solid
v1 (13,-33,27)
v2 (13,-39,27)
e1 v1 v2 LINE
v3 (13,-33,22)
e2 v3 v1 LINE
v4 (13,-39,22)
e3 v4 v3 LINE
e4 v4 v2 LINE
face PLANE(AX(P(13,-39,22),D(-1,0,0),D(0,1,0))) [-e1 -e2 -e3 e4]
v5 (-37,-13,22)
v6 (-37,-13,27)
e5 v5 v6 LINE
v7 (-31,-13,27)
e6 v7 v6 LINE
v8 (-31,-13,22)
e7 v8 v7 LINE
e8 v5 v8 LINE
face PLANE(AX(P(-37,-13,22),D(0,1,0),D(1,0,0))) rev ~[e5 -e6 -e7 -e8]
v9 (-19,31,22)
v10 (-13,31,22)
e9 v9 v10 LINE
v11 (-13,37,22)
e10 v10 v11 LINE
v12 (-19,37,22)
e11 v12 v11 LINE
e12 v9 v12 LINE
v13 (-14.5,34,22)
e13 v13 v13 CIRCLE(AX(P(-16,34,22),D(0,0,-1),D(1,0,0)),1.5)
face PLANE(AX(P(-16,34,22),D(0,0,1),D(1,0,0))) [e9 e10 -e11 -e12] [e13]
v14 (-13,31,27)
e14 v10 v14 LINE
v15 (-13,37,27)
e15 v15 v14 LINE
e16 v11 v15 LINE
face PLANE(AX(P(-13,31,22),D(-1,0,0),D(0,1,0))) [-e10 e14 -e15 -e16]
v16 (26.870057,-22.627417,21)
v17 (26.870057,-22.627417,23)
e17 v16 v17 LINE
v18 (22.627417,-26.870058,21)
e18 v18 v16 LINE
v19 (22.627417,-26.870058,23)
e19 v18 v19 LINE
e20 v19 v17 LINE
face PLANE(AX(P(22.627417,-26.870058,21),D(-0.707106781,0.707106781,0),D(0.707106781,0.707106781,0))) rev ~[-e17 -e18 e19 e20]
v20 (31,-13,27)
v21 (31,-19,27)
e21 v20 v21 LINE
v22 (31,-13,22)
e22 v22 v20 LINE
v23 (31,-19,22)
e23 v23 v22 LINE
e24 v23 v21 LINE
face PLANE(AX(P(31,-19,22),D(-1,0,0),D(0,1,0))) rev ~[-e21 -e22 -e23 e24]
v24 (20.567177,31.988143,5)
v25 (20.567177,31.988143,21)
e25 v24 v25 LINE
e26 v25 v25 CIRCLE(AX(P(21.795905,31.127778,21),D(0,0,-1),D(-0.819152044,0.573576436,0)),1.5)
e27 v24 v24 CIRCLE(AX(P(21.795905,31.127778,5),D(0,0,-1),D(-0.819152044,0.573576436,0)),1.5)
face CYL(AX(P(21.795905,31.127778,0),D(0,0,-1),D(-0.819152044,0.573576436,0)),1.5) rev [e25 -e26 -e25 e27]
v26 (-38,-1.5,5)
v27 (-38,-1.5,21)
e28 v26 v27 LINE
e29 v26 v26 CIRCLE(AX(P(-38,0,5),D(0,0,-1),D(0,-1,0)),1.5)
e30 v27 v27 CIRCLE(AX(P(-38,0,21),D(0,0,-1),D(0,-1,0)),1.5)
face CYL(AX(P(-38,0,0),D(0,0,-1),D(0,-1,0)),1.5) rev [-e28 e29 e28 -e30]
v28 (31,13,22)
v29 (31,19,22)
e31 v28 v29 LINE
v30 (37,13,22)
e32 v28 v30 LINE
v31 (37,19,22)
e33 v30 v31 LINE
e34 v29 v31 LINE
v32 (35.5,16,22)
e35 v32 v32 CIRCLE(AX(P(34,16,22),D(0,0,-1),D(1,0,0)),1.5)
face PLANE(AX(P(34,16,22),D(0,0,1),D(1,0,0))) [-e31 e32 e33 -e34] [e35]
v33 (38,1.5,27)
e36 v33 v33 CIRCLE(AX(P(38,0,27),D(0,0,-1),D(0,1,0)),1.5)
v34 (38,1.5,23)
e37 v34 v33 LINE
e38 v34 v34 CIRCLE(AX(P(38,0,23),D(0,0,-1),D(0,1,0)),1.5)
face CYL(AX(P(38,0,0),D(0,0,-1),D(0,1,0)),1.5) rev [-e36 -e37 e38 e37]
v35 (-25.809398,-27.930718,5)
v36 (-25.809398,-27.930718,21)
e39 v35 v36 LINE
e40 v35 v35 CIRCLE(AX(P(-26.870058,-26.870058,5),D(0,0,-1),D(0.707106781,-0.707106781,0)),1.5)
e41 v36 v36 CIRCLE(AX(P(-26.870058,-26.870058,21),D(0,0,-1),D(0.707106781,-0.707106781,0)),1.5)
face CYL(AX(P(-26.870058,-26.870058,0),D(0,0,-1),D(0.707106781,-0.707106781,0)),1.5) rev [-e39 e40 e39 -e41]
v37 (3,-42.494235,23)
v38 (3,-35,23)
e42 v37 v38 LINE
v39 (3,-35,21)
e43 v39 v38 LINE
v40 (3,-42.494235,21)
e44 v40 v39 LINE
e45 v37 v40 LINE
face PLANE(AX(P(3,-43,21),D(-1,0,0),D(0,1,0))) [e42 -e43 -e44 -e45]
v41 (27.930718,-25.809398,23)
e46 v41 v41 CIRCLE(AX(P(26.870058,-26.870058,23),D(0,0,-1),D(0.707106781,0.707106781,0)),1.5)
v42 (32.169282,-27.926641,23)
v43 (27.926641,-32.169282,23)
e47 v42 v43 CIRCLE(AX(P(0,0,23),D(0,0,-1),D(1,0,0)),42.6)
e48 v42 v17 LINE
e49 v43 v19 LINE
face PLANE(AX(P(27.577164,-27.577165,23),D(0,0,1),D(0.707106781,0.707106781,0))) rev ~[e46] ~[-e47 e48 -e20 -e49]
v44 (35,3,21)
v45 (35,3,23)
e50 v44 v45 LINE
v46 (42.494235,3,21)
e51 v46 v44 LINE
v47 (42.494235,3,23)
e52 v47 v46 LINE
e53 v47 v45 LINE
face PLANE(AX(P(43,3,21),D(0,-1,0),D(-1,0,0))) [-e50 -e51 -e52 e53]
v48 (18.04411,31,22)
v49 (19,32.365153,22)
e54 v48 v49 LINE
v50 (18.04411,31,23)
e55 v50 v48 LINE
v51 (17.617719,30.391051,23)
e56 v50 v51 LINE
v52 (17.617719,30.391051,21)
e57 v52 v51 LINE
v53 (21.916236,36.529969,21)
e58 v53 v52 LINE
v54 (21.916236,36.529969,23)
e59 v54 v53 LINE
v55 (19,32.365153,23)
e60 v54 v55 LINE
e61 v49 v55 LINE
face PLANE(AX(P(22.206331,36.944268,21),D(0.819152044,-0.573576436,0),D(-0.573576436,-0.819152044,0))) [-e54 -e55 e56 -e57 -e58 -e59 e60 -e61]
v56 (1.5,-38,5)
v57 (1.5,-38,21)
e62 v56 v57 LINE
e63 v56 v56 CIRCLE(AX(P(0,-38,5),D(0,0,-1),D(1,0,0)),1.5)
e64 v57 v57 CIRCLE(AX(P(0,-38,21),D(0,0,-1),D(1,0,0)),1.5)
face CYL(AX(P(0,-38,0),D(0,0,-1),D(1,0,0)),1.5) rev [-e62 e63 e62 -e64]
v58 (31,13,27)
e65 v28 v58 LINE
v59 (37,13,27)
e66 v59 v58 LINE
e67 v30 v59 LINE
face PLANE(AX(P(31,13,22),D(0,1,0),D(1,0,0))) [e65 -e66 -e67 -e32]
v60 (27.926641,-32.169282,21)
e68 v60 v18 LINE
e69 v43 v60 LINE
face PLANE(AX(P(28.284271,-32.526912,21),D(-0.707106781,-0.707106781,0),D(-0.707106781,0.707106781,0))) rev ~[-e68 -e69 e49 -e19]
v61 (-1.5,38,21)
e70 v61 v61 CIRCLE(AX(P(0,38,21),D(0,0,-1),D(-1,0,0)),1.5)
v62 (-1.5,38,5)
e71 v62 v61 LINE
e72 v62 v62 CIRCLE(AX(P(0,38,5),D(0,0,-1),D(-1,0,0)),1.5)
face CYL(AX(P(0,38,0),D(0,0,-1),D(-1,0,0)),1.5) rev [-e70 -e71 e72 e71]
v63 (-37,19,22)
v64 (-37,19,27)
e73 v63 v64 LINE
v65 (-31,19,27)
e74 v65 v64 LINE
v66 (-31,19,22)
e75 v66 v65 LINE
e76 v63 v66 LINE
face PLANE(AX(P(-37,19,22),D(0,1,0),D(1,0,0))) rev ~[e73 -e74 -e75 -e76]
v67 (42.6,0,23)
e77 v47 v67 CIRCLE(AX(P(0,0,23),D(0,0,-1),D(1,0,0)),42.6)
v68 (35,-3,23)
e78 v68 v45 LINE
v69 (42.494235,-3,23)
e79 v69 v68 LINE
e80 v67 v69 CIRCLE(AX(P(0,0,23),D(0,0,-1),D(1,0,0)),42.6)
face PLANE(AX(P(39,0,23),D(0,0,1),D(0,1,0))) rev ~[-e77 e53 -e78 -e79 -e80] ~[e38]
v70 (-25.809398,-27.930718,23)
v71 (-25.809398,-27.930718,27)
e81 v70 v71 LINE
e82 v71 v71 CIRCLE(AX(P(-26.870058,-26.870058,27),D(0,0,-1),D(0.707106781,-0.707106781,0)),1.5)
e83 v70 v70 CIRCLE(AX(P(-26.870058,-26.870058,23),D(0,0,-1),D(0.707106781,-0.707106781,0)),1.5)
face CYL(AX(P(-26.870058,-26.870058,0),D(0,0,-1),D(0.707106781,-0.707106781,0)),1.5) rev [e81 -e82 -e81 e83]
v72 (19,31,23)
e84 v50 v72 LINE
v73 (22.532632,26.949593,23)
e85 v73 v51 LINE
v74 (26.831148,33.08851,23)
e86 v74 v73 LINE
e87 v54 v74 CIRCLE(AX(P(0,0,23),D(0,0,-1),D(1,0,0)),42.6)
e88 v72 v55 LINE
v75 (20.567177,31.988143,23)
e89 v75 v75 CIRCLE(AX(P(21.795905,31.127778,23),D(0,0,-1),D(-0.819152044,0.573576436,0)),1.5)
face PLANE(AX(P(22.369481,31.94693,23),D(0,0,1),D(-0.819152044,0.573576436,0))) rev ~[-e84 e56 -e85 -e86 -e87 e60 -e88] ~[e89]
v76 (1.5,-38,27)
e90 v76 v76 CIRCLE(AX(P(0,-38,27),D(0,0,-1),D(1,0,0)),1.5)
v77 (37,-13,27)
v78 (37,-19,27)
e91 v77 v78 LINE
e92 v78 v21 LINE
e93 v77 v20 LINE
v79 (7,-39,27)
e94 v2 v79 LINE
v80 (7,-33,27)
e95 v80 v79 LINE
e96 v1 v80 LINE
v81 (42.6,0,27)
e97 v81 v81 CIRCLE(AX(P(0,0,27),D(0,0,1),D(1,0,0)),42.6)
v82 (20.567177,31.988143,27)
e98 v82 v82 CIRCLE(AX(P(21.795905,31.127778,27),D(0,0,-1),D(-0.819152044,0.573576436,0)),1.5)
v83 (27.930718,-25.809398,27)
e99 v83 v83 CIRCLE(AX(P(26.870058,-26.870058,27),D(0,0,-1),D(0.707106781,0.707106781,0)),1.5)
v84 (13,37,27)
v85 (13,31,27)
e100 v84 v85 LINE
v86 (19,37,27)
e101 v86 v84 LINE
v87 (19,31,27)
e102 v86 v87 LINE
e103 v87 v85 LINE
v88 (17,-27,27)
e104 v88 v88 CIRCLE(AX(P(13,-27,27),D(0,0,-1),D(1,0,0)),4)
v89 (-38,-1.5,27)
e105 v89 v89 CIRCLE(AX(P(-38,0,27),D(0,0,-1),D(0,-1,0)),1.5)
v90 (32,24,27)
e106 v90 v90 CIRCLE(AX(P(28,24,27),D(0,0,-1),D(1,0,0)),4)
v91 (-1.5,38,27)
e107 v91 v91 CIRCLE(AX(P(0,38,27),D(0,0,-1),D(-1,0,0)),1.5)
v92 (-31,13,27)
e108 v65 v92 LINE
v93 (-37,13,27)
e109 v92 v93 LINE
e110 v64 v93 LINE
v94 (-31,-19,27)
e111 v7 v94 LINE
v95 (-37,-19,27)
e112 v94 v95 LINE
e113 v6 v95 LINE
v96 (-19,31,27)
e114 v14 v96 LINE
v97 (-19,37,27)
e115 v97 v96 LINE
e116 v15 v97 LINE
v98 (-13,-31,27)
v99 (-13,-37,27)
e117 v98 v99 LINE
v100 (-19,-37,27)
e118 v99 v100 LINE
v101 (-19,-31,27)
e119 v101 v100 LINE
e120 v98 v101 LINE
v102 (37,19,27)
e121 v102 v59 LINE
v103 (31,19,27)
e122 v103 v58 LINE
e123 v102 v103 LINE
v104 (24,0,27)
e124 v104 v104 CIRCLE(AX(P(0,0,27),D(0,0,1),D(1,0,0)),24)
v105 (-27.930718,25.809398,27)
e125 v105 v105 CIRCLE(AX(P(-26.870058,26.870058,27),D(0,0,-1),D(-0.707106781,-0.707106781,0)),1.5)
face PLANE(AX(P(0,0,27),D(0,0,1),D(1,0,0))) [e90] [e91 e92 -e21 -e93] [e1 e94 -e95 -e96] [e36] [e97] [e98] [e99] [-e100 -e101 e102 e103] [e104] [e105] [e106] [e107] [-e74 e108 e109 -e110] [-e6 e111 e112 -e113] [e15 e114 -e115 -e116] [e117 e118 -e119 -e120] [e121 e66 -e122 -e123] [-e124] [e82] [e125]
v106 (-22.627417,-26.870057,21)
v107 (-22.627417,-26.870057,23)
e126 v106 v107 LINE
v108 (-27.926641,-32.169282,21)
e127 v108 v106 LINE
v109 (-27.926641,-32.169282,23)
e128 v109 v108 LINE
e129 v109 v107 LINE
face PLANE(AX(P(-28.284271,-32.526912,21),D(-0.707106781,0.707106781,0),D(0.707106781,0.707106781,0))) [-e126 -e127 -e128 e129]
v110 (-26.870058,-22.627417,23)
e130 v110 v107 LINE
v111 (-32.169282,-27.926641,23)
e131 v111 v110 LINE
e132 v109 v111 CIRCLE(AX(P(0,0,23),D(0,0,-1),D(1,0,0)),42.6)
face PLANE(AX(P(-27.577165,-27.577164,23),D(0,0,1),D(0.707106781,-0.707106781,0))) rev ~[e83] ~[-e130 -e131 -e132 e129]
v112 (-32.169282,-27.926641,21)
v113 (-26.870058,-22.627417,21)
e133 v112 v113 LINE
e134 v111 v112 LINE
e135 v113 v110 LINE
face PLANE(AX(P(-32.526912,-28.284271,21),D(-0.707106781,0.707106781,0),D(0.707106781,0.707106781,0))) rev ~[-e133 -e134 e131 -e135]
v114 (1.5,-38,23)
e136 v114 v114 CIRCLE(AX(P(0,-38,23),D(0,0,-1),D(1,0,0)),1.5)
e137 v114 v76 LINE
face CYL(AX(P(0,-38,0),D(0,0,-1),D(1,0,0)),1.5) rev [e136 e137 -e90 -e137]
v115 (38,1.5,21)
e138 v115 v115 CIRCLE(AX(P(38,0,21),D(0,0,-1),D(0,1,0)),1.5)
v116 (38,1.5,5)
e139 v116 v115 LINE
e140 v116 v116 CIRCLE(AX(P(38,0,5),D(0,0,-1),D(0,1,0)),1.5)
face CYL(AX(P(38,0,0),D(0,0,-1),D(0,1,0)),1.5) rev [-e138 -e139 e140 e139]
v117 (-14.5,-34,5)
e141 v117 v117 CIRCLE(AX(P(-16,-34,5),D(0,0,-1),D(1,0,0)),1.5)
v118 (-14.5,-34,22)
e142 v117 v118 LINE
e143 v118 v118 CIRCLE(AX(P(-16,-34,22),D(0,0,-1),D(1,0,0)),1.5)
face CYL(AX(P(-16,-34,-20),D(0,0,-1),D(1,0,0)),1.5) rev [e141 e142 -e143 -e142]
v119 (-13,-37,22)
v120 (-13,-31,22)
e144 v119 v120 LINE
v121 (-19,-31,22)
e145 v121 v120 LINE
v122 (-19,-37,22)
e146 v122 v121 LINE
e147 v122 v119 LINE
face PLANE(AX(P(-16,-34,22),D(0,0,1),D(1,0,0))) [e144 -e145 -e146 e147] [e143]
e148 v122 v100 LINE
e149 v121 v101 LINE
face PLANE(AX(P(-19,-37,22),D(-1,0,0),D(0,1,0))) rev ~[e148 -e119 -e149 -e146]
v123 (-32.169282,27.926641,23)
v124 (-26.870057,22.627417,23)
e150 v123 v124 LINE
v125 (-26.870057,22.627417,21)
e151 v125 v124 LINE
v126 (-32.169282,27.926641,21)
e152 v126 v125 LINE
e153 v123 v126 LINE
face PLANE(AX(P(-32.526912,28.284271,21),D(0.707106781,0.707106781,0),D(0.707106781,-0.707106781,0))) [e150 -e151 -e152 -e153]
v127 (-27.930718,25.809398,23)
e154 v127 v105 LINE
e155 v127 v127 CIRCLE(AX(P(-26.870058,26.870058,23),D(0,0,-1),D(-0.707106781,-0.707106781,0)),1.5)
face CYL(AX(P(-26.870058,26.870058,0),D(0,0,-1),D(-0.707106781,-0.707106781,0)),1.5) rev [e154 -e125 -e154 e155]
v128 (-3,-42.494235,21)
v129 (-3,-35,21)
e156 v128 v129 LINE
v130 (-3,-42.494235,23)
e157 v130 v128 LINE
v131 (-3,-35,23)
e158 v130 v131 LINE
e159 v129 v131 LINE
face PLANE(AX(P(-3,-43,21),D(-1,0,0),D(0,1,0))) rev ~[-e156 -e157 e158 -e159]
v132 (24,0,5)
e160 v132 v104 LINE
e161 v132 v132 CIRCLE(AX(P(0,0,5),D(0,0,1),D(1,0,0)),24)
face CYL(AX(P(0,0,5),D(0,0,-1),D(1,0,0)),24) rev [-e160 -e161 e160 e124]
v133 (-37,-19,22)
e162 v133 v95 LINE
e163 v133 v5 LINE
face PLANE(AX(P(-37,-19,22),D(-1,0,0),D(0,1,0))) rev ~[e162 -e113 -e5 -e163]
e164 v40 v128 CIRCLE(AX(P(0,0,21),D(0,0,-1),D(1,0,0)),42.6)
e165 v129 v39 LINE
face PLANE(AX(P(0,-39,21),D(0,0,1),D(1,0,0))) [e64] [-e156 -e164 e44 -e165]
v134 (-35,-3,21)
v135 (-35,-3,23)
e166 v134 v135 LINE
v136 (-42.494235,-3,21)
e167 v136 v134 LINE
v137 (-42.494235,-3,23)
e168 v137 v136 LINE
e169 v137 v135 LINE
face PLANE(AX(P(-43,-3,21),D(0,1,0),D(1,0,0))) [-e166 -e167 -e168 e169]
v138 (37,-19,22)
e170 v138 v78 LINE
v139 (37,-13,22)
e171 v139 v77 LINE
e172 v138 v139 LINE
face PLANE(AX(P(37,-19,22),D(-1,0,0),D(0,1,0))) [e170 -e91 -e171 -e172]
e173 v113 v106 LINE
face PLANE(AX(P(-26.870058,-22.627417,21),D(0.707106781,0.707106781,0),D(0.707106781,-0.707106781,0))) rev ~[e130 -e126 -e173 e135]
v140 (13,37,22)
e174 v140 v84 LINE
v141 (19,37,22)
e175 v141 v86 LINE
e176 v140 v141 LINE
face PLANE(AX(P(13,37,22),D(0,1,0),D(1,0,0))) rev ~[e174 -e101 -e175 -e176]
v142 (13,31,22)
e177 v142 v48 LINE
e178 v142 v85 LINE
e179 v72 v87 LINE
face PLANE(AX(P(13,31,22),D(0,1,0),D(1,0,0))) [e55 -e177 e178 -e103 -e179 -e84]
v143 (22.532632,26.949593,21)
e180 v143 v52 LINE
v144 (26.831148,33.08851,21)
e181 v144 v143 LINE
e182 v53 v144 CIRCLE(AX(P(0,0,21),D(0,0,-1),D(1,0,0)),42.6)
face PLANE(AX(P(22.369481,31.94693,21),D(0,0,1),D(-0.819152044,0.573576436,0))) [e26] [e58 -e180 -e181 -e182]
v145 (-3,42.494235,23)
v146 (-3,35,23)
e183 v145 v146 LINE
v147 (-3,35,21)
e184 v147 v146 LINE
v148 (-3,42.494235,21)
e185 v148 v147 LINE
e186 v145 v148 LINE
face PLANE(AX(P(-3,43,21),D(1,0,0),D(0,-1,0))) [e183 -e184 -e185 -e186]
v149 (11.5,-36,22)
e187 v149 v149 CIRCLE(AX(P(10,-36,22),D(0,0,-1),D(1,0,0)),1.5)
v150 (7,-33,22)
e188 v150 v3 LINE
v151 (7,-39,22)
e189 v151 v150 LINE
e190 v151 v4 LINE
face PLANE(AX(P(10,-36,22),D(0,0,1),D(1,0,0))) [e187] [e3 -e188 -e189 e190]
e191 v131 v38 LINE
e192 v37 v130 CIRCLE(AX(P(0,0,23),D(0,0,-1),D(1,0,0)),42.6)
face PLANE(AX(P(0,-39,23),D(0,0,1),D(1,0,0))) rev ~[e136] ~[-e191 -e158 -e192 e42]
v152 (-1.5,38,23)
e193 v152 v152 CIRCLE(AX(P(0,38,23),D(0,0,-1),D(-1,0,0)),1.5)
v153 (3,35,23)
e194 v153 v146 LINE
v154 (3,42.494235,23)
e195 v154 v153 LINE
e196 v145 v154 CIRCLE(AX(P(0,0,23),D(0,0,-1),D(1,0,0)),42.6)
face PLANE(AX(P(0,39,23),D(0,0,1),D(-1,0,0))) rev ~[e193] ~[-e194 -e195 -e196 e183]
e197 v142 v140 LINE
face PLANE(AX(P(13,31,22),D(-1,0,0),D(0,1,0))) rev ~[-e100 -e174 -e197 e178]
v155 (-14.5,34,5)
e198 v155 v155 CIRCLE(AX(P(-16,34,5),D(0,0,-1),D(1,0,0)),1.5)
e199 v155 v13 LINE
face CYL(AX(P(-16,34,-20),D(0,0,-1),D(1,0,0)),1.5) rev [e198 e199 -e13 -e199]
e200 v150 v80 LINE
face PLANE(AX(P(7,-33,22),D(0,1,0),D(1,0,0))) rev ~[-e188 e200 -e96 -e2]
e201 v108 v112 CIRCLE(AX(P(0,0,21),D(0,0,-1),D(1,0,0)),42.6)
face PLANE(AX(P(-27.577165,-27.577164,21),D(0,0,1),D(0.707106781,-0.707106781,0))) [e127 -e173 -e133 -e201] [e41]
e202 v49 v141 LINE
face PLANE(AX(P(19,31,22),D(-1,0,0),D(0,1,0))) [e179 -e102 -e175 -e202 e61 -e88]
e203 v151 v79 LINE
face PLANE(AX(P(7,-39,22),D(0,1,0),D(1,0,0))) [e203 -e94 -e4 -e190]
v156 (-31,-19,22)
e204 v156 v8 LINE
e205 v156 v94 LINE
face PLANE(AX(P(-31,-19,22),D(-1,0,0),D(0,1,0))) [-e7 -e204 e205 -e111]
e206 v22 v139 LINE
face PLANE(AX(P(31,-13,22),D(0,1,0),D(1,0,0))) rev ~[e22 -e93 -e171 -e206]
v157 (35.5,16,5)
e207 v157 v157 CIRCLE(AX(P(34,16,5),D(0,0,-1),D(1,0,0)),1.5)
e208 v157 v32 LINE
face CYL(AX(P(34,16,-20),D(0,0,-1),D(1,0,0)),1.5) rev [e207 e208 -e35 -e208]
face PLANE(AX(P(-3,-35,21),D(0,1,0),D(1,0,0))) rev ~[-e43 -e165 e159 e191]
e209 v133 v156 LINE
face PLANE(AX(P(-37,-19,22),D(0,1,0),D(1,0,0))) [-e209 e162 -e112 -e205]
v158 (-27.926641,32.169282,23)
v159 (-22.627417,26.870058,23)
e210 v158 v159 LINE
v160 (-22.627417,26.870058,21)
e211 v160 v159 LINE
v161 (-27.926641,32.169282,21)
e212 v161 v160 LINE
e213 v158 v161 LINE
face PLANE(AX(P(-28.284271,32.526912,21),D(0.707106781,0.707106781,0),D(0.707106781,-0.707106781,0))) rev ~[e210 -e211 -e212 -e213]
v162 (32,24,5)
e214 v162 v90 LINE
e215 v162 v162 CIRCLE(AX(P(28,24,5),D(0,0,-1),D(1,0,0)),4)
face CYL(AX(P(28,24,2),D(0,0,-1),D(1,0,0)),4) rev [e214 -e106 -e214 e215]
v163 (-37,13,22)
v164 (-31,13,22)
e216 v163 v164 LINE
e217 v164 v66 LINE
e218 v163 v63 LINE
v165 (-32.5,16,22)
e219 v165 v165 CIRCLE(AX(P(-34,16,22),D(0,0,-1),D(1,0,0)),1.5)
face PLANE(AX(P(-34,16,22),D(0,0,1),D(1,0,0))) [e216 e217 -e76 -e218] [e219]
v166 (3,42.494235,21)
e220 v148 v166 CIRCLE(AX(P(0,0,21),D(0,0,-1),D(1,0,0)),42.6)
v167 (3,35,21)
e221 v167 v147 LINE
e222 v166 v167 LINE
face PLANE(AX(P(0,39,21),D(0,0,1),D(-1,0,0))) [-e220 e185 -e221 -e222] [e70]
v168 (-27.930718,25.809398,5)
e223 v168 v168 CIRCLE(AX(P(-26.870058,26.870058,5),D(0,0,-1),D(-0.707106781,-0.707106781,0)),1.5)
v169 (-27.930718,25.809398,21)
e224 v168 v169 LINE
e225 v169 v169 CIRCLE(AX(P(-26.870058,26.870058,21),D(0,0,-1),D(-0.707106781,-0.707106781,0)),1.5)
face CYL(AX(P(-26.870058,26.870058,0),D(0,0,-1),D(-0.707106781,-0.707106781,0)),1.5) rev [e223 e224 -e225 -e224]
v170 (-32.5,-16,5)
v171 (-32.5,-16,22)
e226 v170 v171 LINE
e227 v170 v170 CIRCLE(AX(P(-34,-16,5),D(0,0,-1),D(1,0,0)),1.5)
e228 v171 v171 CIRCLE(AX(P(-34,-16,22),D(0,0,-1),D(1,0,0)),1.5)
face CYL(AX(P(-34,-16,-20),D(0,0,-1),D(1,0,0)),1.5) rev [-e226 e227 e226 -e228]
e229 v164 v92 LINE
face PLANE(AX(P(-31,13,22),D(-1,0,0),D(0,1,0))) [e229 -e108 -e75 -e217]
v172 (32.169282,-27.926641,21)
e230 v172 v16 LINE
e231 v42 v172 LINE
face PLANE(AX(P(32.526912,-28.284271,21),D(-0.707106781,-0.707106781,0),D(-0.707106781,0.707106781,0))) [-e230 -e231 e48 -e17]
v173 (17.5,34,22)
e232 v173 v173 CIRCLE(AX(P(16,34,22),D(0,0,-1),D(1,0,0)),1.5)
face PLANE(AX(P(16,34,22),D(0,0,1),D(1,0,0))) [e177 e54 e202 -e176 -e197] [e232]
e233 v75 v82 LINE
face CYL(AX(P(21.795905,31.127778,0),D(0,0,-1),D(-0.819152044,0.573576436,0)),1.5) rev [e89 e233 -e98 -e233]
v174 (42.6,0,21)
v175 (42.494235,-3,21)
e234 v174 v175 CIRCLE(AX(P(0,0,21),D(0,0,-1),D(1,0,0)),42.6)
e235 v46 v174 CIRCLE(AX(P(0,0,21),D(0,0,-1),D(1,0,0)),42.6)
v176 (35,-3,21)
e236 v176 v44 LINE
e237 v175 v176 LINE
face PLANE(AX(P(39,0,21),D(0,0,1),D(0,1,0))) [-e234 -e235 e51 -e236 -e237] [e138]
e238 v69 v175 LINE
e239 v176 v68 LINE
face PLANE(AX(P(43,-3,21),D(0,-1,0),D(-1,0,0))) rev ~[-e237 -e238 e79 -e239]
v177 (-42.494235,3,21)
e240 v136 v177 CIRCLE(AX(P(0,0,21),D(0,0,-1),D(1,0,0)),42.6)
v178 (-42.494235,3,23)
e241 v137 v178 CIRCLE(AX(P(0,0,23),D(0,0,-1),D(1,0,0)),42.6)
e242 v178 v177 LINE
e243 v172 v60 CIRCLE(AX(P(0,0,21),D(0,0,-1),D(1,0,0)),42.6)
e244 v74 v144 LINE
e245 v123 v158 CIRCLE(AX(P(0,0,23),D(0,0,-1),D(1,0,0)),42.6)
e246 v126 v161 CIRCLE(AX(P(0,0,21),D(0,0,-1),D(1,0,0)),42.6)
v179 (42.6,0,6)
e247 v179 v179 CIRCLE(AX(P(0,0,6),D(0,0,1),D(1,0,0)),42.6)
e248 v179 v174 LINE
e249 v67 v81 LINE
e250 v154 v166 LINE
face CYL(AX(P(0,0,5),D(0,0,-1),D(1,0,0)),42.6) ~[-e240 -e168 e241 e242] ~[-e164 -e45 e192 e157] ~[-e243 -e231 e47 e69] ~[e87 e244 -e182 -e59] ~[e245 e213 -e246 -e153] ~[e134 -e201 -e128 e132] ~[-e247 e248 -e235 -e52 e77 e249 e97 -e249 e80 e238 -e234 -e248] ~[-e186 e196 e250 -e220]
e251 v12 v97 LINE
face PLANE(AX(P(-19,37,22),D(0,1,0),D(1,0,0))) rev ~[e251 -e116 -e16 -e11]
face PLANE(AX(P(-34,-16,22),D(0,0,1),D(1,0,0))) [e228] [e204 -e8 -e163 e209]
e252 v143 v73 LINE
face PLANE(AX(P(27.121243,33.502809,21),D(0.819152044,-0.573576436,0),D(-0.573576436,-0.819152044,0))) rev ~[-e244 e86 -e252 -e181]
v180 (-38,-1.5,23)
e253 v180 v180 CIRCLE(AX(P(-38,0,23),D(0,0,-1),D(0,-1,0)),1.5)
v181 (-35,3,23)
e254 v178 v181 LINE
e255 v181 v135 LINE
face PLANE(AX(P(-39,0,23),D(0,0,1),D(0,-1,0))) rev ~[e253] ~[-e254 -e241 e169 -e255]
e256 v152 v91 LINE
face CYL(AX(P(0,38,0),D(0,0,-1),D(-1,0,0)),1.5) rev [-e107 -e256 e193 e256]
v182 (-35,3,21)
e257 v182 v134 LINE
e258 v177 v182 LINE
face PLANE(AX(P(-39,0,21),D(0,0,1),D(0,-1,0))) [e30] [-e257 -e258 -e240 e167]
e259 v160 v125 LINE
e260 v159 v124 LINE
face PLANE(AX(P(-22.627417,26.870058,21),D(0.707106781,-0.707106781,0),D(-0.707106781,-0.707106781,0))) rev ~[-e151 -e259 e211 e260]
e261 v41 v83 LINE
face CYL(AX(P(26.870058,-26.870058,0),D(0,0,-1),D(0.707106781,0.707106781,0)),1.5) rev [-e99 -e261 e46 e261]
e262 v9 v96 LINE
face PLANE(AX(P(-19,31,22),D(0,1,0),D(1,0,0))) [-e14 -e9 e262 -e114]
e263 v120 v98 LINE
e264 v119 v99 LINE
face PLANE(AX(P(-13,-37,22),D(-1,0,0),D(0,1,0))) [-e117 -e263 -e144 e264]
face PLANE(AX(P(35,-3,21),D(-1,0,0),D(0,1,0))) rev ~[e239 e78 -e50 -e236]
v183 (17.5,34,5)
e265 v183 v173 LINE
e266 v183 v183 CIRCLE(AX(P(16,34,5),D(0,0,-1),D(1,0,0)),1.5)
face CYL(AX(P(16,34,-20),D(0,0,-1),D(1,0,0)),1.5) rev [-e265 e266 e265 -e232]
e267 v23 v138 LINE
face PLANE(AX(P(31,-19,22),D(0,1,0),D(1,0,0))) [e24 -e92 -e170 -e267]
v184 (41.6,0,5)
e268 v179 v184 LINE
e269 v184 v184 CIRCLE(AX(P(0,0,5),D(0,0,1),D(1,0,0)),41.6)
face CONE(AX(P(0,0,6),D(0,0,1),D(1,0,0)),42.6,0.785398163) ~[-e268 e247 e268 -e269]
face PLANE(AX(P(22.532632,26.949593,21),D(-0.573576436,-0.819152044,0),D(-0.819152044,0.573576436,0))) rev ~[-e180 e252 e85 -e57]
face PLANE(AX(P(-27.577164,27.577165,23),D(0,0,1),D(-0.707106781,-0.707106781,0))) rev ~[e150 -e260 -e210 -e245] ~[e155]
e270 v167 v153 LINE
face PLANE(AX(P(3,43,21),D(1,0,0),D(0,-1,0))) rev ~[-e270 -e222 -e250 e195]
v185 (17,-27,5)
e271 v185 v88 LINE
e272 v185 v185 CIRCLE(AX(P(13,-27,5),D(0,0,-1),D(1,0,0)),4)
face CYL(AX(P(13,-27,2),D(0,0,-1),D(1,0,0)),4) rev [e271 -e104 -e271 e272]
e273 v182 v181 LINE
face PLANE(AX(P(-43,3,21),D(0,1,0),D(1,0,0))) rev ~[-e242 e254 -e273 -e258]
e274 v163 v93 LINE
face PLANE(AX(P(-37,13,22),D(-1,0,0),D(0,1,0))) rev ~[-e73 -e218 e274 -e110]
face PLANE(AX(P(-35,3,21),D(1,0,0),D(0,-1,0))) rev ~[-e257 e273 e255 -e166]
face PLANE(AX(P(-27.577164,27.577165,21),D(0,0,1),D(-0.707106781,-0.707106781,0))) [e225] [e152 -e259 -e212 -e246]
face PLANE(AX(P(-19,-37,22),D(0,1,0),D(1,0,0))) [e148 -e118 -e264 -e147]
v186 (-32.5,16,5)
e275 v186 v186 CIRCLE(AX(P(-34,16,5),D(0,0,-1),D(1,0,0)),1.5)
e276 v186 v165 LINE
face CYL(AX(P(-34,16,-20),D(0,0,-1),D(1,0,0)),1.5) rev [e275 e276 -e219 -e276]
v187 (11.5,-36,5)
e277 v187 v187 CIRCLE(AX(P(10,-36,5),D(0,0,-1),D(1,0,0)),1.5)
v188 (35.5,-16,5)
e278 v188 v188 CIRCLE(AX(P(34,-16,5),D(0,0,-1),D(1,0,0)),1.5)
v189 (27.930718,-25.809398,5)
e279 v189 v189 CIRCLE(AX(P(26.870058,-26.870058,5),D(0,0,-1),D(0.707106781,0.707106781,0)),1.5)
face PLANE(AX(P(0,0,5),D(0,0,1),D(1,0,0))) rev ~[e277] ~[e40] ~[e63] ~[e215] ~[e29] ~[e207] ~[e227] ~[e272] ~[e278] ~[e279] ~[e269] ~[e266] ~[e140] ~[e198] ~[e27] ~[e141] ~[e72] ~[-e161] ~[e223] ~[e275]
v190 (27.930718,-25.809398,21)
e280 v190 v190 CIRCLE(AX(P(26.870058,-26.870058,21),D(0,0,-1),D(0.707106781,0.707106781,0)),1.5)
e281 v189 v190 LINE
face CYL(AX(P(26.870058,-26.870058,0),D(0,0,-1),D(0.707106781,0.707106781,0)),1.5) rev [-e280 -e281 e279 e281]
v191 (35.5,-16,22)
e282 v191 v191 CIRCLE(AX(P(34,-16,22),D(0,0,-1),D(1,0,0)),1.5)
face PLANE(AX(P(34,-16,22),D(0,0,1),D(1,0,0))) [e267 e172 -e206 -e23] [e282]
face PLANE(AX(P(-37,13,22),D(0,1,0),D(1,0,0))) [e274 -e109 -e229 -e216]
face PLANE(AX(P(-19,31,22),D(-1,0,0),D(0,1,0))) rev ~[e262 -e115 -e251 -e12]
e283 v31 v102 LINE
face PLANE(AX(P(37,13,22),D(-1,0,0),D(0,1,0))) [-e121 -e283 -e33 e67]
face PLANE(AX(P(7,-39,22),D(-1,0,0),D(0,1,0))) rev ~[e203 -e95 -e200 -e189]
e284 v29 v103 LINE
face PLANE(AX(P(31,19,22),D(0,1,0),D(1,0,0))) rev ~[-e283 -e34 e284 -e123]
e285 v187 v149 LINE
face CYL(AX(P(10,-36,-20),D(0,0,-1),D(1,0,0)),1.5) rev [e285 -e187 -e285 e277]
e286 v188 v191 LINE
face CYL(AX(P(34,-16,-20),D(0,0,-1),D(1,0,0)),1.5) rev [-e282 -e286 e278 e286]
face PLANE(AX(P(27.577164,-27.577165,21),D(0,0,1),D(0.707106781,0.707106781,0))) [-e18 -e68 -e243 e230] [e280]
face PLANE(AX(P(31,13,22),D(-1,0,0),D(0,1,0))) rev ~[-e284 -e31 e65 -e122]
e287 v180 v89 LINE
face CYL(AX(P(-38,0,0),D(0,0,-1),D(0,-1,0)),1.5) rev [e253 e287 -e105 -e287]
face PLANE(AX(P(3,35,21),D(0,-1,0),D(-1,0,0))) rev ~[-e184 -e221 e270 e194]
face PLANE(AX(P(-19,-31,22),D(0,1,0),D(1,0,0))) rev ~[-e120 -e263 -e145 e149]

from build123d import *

# Parameters (mm, degrees)
BOX1028_W                    = 6
BOX1028_H                    = 8
BOX1028_DEPTH                = 2
BOX1028_PLACEMENT_ANGLE      = 45
BOX1029_W                    = 6
BOX1029_H                    = 8
BOX1029_DEPTH                = 2
BOX1031_W                    = 6
BOX1031_H                    = 8
BOX1031_DEPTH                = 2
BOX1031_PLACEMENT_ANGLE      = 145
BOX1032_W                    = 6
BOX1032_H                    = 8
BOX1032_DEPTH                = 2
BOX1033_W                    = 6
BOX1033_H                    = 8
BOX1033_DEPTH                = 2
BOX1033_PLACEMENT_ANGLE      = 225
BOX1034_W                    = 6
BOX1034_H                    = 8
BOX1034_DEPTH                = 2
BOX1035_W                    = 6
BOX1035_H                    = 8
BOX1035_DEPTH                = 2
BOX1035_PLACEMENT_ANGLE      = 45
BOX1027_W                    = 6
BOX1027_H                    = 8
BOX1027_DEPTH                = 2
CYLINDER2226_R               = 1.5
CYLINDER2226_DEPTH           = 100
CYLINDER2226_PLACEMENT_ANGLE = 225
CYLINDER2227_R               = 1.5
CYLINDER2227_DEPTH           = 100
CYLINDER2225_R               = 1.5
CYLINDER2225_DEPTH           = 100
CYLINDER2228_R               = 1.5
CYLINDER2228_DEPTH           = 100
CYLINDER2228_PLACEMENT_ANGLE = 45
CYLINDER2221_R               = 1.5
CYLINDER2221_DEPTH           = 100
CYLINDER2222_R               = 1.5
CYLINDER2222_DEPTH           = 100
CYLINDER2222_PLACEMENT_ANGLE = 45
CYLINDER2224_R               = 1.5
CYLINDER2224_DEPTH           = 100
CYLINDER2224_PLACEMENT_ANGLE = 145
CYLINDER2223_R               = 1.5
CYLINDER2223_DEPTH           = 100
CYLINDER1447_R               = 4
CYLINDER1447_DEPTH           = 40
CYLINDER1448_R               = 4
CYLINDER1448_DEPTH           = 40
CYLINDER1449_R               = 4
CYLINDER1449_DEPTH           = 40
CYLINDER1450_R               = 4
CYLINDER1450_DEPTH           = 40
CYLINDER1451_R               = 4
CYLINDER1451_DEPTH           = 40
CYLINDER1452_R               = 4
CYLINDER1452_DEPTH           = 40
CYLINDER1453_R               = 4
CYLINDER1453_DEPTH           = 40
CYLINDER1446_R               = 4
CYLINDER1446_DEPTH           = 40
CYLINDER1631_R               = 1.5
CYLINDER1631_DEPTH           = 100
CYLINDER1632_R               = 1.5
CYLINDER1632_DEPTH           = 100
CYLINDER1633_R               = 1.5
CYLINDER1633_DEPTH           = 100
CYLINDER1634_R               = 1.5
CYLINDER1634_DEPTH           = 100
CYLINDER1635_R               = 1.5
CYLINDER1635_DEPTH           = 100
CYLINDER1636_R               = 1.5
CYLINDER1636_DEPTH           = 100
CYLINDER1637_R               = 1.5
CYLINDER1637_DEPTH           = 100
CYLINDER1630_R               = 1.5
CYLINDER1630_DEPTH           = 100
BOX1014_W                    = 6
BOX1014_H                    = 6
BOX1014_DEPTH                = 20
BOX1015_W                    = 6
BOX1015_H                    = 6
BOX1015_DEPTH                = 20
BOX1012_W                    = 6
BOX1012_H                    = 6
BOX1012_DEPTH                = 20
BOX1016_W                    = 6
BOX1016_H                    = 6
BOX1016_DEPTH                = 20
BOX1017_W                    = 6
BOX1017_H                    = 6
BOX1017_DEPTH                = 20
BOX1013_W                    = 6
BOX1013_H                    = 6
BOX1013_DEPTH                = 20
BOX1018_W                    = 6
BOX1018_H                    = 6
BOX1018_DEPTH                = 20
BOX1011_W                    = 6
BOX1011_H                    = 6
BOX1011_DEPTH                = 20
TUBE_R                       = 42.6
TUBE_R_2                     = 24
TUBE_DEPTH                   = 22
CHAMFER_SIZE                 = 1


with BuildPart() as krychle1028:
    # Box1028 → Box1028 (new body)
    with BuildSketch(Plane.XY):
        with Locations((3, 4)):
            Rectangle(BOX1028_W, BOX1028_H)
    extrude(amount=BOX1028_DEPTH)


with BuildPart() as krychle1028_1:
    # Box1028 placement: moved
    add(krychle1028.part.moved(Location((28.284271, -32.526912, 5))).rotate(Axis((28.284271, -32.526912, 5), (0, 0, 1)), BOX1028_PLACEMENT_ANGLE))


with BuildPart() as krychle1029:
    # Box1029 → Box1029 (new body)
    with BuildSketch(Plane(origin=(43, -3, 5), x_dir=(0, 1, 0), z_dir=(0, 0, 1))):
        with Locations((3, 4)):
            Rectangle(BOX1029_W, BOX1029_H)
    extrude(amount=BOX1029_DEPTH)


with BuildPart() as krychle1031:
    # Box1031 → Box1031 (new body)
    with BuildSketch(Plane.XY):
        with Locations((3, 4)):
            Rectangle(BOX1031_W, BOX1031_H)
    extrude(amount=BOX1031_DEPTH)


with BuildPart() as krychle1031_1:
    # Box1031 placement: moved
    add(krychle1031.part.moved(Location((27.121243, 33.502809, 5))).rotate(Axis((27.121243, 33.502809, 5), (0, 0, 1)), BOX1031_PLACEMENT_ANGLE))


with BuildPart() as krychle1032:
    # Box1032 → Box1032 (new body)
    with BuildSketch(Plane(origin=(3, 43, 5), x_dir=(-1, 0, 0), z_dir=(0, 0, 1))):
        with Locations((3, 4)):
            Rectangle(BOX1032_W, BOX1032_H)
    extrude(amount=BOX1032_DEPTH)


with BuildPart() as krychle1033:
    # Box1033 → Box1033 (new body)
    with BuildSketch(Plane.XY):
        with Locations((3, 4)):
            Rectangle(BOX1033_W, BOX1033_H)
    extrude(amount=BOX1033_DEPTH)


with BuildPart() as krychle1033_1:
    # Box1033 placement: moved
    add(krychle1033.part.moved(Location((-28.284271, 32.526912, 5))).rotate(Axis((-28.284271, 32.526912, 5), (0, 0, 1)), BOX1033_PLACEMENT_ANGLE))


with BuildPart() as krychle1034:
    # Box1034 → Box1034 (new body)
    with BuildSketch(Plane(origin=(-43, 3, 5), x_dir=(0, -1, 0), z_dir=(0, 0, 1))):
        with Locations((3, 4)):
            Rectangle(BOX1034_W, BOX1034_H)
    extrude(amount=BOX1034_DEPTH)


with BuildPart() as krychle1035:
    # Box1035 → Box1035 (new body)
    with BuildSketch(Plane.XY):
        with Locations((3, 4)):
            Rectangle(BOX1035_W, BOX1035_H)
    extrude(amount=BOX1035_DEPTH)


with BuildPart() as krychle1035_1:
    # Box1035 placement: moved
    add(krychle1035.part.moved(Location((-32.526912, -28.284271, 5))).rotate(Axis((-32.526912, -28.284271, 5), (0, 0, -1)), BOX1035_PLACEMENT_ANGLE))


with BuildPart() as compound1121:
    # Box1027 → Box1027 (new body)
    with BuildSketch(Plane(origin=(-3, -43, 5), x_dir=(1, 0, 0), z_dir=(0, 0, 1))):
        with Locations((3, 4)):
            Rectangle(BOX1027_W, BOX1027_H)
    extrude(amount=BOX1027_DEPTH)

    # Compound1121: union Krychle1028, Krychle1029, Krychle1031, Krychle1032, Krychle1033, Krychle1034, Krychle1035
    add(krychle1028_1.part)
    add(krychle1029.part)
    add(krychle1031_1.part)
    add(krychle1032.part)
    add(krychle1033_1.part)
    add(krychle1034.part)
    add(krychle1035_1.part)


with BuildPart() as compound1121_1:
    # Compound1121 placement: moved
    add(compound1121.part.moved(Location((0, 0, 16))))


with BuildPart() as v_lec2226:
    # Cylinder2226 → Cylinder2226 (new body)
    with BuildSketch(Plane.XY):
        Circle(CYLINDER2226_R)
    extrude(amount=CYLINDER2226_DEPTH)


with BuildPart() as v_lec2226_1:
    # Cylinder2226 placement: moved
    add(v_lec2226.part.moved(Location((-26.870058, 26.870058, 0))).rotate(Axis((-26.870058, 26.870058, 0), (0, 0, 1)), CYLINDER2226_PLACEMENT_ANGLE))


with BuildPart() as v_lec2227:
    # Cylinder2227 → Cylinder2227 (new body)
    with BuildSketch(Plane(origin=(-38, 0, 0), x_dir=(0, -1, 0), z_dir=(0, 0, 1))):
        Circle(CYLINDER2227_R)
    extrude(amount=CYLINDER2227_DEPTH)


with BuildPart() as v_lec2225:
    # Cylinder2225 → Cylinder2225 (new body)
    with BuildSketch(Plane(origin=(0, 38, 0), x_dir=(-1, 0, 0), z_dir=(0, 0, 1))):
        Circle(CYLINDER2225_R)
    extrude(amount=CYLINDER2225_DEPTH)


with BuildPart() as v_lec2228:
    # Cylinder2228 → Cylinder2228 (new body)
    with BuildSketch(Plane.XY):
        Circle(CYLINDER2228_R)
    extrude(amount=CYLINDER2228_DEPTH)


with BuildPart() as v_lec2228_1:
    # Cylinder2228 placement: moved
    add(v_lec2228.part.moved(Location((-26.870058, -26.870058, 0))).rotate(Axis((-26.870058, -26.870058, 0), (0, 0, -1)), CYLINDER2228_PLACEMENT_ANGLE))


with BuildPart() as v_lec2221:
    # Cylinder2221 → Cylinder2221 (new body)
    with BuildSketch(Plane(origin=(0, -38, 0), x_dir=(1, 0, 0), z_dir=(0, 0, 1))):
        Circle(CYLINDER2221_R)
    extrude(amount=CYLINDER2221_DEPTH)


with BuildPart() as v_lec2222:
    # Cylinder2222 → Cylinder2222 (new body)
    with BuildSketch(Plane.XY):
        Circle(CYLINDER2222_R)
    extrude(amount=CYLINDER2222_DEPTH)


with BuildPart() as v_lec2222_1:
    # Cylinder2222 placement: moved
    add(v_lec2222.part.moved(Location((26.870058, -26.870058, 0))).rotate(Axis((26.870058, -26.870058, 0), (0, 0, 1)), CYLINDER2222_PLACEMENT_ANGLE))


with BuildPart() as v_lec2224:
    # Cylinder2224 → Cylinder2224 (new body)
    with BuildSketch(Plane.XY):
        Circle(CYLINDER2224_R)
    extrude(amount=CYLINDER2224_DEPTH)


with BuildPart() as v_lec2224_1:
    # Cylinder2224 placement: moved
    add(v_lec2224.part.moved(Location((21.795905, 31.127778, 0))).rotate(Axis((21.795905, 31.127778, 0), (0, 0, 1)), CYLINDER2224_PLACEMENT_ANGLE))


with BuildPart() as compound1122:
    # Cylinder2223 → Cylinder2223 (new body)
    with BuildSketch(Plane(origin=(38, 0, 0), x_dir=(0, 1, 0), z_dir=(0, 0, 1))):
        Circle(CYLINDER2223_R)
    extrude(amount=CYLINDER2223_DEPTH)

    # Compound1122: union Válec2226, Válec2227, Válec2225, Válec2228, Válec2221, Válec2222, Válec2224
    add(v_lec2226_1.part)
    add(v_lec2227.part)
    add(v_lec2225.part)
    add(v_lec2228_1.part)
    add(v_lec2221.part)
    add(v_lec2222_1.part)
    add(v_lec2224_1.part)


with BuildPart() as v_lec1447:
    # Cylinder1447 → Cylinder1447 (new body)
    with BuildSketch(Plane(origin=(103, 12, -20), x_dir=(1, 0, 0), z_dir=(0, 0, 1))):
        Circle(CYLINDER1447_R)
    extrude(amount=CYLINDER1447_DEPTH)


with BuildPart() as v_lec1448:
    # Cylinder1448 → Cylinder1448 (new body)
    with BuildSketch(Plane(origin=(76, 24, -18), x_dir=(1, 0, 0), z_dir=(0, 0, 1))):
        Circle(CYLINDER1448_R)
    extrude(amount=CYLINDER1448_DEPTH)


with BuildPart() as v_lec1449:
    # Cylinder1449 → Cylinder1449 (new body)
    with BuildSketch(Plane(origin=(91, -27, -18), x_dir=(1, 0, 0), z_dir=(0, 0, 1))):
        Circle(CYLINDER1449_R)
    extrude(amount=CYLINDER1449_DEPTH)


with BuildPart() as v_lec1450:
    # Cylinder1450 → Cylinder1450 (new body)
    with BuildSketch(Plane(origin=(13, -27, -18), x_dir=(1, 0, 0), z_dir=(0, 0, 1))):
        Circle(CYLINDER1450_R)
    extrude(amount=CYLINDER1450_DEPTH)


with BuildPart() as v_lec1451:
    # Cylinder1451 → Cylinder1451 (new body)
    with BuildSketch(Plane(origin=(28, 24, -18), x_dir=(1, 0, 0), z_dir=(0, 0, 1))):
        Circle(CYLINDER1451_R)
    extrude(amount=CYLINDER1451_DEPTH)


with BuildPart() as v_lec1452:
    # Cylinder1452 → Cylinder1452 (new body)
    with BuildSketch(Plane(origin=(1, -12, -18), x_dir=(1, 0, 0), z_dir=(0, 0, 1))):
        Circle(CYLINDER1452_R)
    extrude(amount=CYLINDER1452_DEPTH)


with BuildPart() as v_lec1453:
    # Cylinder1453 → Cylinder1453 (new body)
    with BuildSketch(Plane(origin=(1, 12, -18), x_dir=(1, 0, 0), z_dir=(0, 0, 1))):
        Circle(CYLINDER1453_R)
    extrude(amount=CYLINDER1453_DEPTH)


with BuildPart() as srouby_monoblok_silne003:
    # Cylinder1446 → Cylinder1446 (new body)
    with BuildSketch(Plane(origin=(103, -12, -20), x_dir=(1, 0, 0), z_dir=(0, 0, 1))):
        Circle(CYLINDER1446_R)
    extrude(amount=CYLINDER1446_DEPTH)

    # Compound664: union Válec1447, Válec1448, Válec1449, Válec1450, Válec1451, Válec1452, Válec1453
    add(v_lec1447.part)
    add(v_lec1448.part)
    add(v_lec1449.part)
    add(v_lec1450.part)
    add(v_lec1451.part)
    add(v_lec1452.part)
    add(v_lec1453.part)


with BuildPart() as srouby_monoblok_silne003_1:
    # Compound664 placement: moved
    add(srouby_monoblok_silne003.part.moved(Location((0, 0, 20))))


with BuildPart() as v_lec1631:
    # Cylinder1631 → Cylinder1631 (new body)
    with BuildSketch(Plane(origin=(-34, -16, -60), x_dir=(1, 0, 0), z_dir=(0, 0, 1))):
        Circle(CYLINDER1631_R)
    extrude(amount=CYLINDER1631_DEPTH)


with BuildPart() as v_lec1632:
    # Cylinder1632 → Cylinder1632 (new body)
    with BuildSketch(Plane(origin=(34, -16, -60), x_dir=(1, 0, 0), z_dir=(0, 0, 1))):
        Circle(CYLINDER1632_R)
    extrude(amount=CYLINDER1632_DEPTH)


with BuildPart() as v_lec1633:
    # Cylinder1633 → Cylinder1633 (new body)
    with BuildSketch(Plane(origin=(34, 16, -60), x_dir=(1, 0, 0), z_dir=(0, 0, 1))):
        Circle(CYLINDER1633_R)
    extrude(amount=CYLINDER1633_DEPTH)


with BuildPart() as v_lec1634:
    # Cylinder1634 → Cylinder1634 (new body)
    with BuildSketch(Plane(origin=(16, 34, -60), x_dir=(1, 0, 0), z_dir=(0, 0, 1))):
        Circle(CYLINDER1634_R)
    extrude(amount=CYLINDER1634_DEPTH)


with BuildPart() as v_lec1635:
    # Cylinder1635 → Cylinder1635 (new body)
    with BuildSketch(Plane(origin=(10, -36, -60), x_dir=(1, 0, 0), z_dir=(0, 0, 1))):
        Circle(CYLINDER1635_R)
    extrude(amount=CYLINDER1635_DEPTH)


with BuildPart() as v_lec1636:
    # Cylinder1636 → Cylinder1636 (new body)
    with BuildSketch(Plane(origin=(-16, -34, -60), x_dir=(1, 0, 0), z_dir=(0, 0, 1))):
        Circle(CYLINDER1636_R)
    extrude(amount=CYLINDER1636_DEPTH)


with BuildPart() as v_lec1637:
    # Cylinder1637 → Cylinder1637 (new body)
    with BuildSketch(Plane(origin=(-16, 34, -60), x_dir=(1, 0, 0), z_dir=(0, 0, 1))):
        Circle(CYLINDER1637_R)
    extrude(amount=CYLINDER1637_DEPTH)


with BuildPart() as sbouby_baze009:
    # Cylinder1630 → Cylinder1630 (new body)
    with BuildSketch(Plane(origin=(-34, 16, -60), x_dir=(1, 0, 0), z_dir=(0, 0, 1))):
        Circle(CYLINDER1630_R)
    extrude(amount=CYLINDER1630_DEPTH)

    # Compound928: union Válec1631, Válec1632, Válec1633, Válec1634, Válec1635, Válec1636, Válec1637
    add(v_lec1631.part)
    add(v_lec1632.part)
    add(v_lec1633.part)
    add(v_lec1634.part)
    add(v_lec1635.part)
    add(v_lec1636.part)
    add(v_lec1637.part)


with BuildPart() as sbouby_baze009_1:
    # Compound928 placement: moved
    add(sbouby_baze009.part.moved(Location((0, 0, 40))))


with BuildPart() as krychle1014:
    # Box1014 → Box1014 (new body)
    with BuildSketch(Plane(origin=(-19, 31, 0), x_dir=(1, 0, 0), z_dir=(0, 0, 1))):
        with Locations((3, 3)):
            Rectangle(BOX1014_W, BOX1014_H)
    extrude(amount=BOX1014_DEPTH)


with BuildPart() as krychle1015:
    # Box1015 → Box1015 (new body)
    with BuildSketch(Plane(origin=(-19, -37, 0), x_dir=(1, 0, 0), z_dir=(0, 0, 1))):
        with Locations((3, 3)):
            Rectangle(BOX1015_W, BOX1015_H)
    extrude(amount=BOX1015_DEPTH)


with BuildPart() as krychle1012:
    # Box1012 → Box1012 (new body)
    with BuildSketch(Plane(origin=(7, -39, 0), x_dir=(1, 0, 0), z_dir=(0, 0, 1))):
        with Locations((3, 3)):
            Rectangle(BOX1012_W, BOX1012_H)
    extrude(amount=BOX1012_DEPTH)


with BuildPart() as krychle1016:
    # Box1016 → Box1016 (new body)
    with BuildSketch(Plane(origin=(31, 13, 0), x_dir=(1, 0, 0), z_dir=(0, 0, 1))):
        with Locations((3, 3)):
            Rectangle(BOX1016_W, BOX1016_H)
    extrude(amount=BOX1016_DEPTH)


with BuildPart() as krychle1017:
    # Box1017 → Box1017 (new body)
    with BuildSketch(Plane(origin=(31, -19, 0), x_dir=(1, 0, 0), z_dir=(0, 0, 1))):
        with Locations((3, 3)):
            Rectangle(BOX1017_W, BOX1017_H)
    extrude(amount=BOX1017_DEPTH)


with BuildPart() as krychle1013:
    # Box1013 → Box1013 (new body)
    with BuildSketch(Plane(origin=(-37, 13, 0), x_dir=(1, 0, 0), z_dir=(0, 0, 1))):
        with Locations((3, 3)):
            Rectangle(BOX1013_W, BOX1013_H)
    extrude(amount=BOX1013_DEPTH)


with BuildPart() as krychle1018:
    # Box1018 → Box1018 (new body)
    with BuildSketch(Plane(origin=(-37, -19, 0), x_dir=(1, 0, 0), z_dir=(0, 0, 1))):
        with Locations((3, 3)):
            Rectangle(BOX1018_W, BOX1018_H)
    extrude(amount=BOX1018_DEPTH)


with BuildPart() as compound1118:
    # Box1011 → Box1011 (new body)
    with BuildSketch(Plane(origin=(13, 31, 0), x_dir=(1, 0, 0), z_dir=(0, 0, 1))):
        with Locations((3, 3)):
            Rectangle(BOX1011_W, BOX1011_H)
    extrude(amount=BOX1011_DEPTH)

    # Compound1118: union Krychle1014, Krychle1015, Krychle1012, Krychle1016, Krychle1017, Krychle1013, Krychle1018
    add(krychle1014.part)
    add(krychle1015.part)
    add(krychle1012.part)
    add(krychle1016.part)
    add(krychle1017.part)
    add(krychle1013.part)
    add(krychle1018.part)


with BuildPart() as compound1118_1:
    # Compound1118 placement: moved
    add(compound1118.part.moved(Location((0, 0, 22))))


with BuildPart() as cut712:
    # Tube → Tube (new body)
    with BuildSketch(Plane.XY.offset(5)):
        Circle(TUBE_R)
        Circle(TUBE_R_2, mode=Mode.SUBTRACT)
    extrude(amount=TUBE_DEPTH)

    # Cut706: cut Compound1118
    add(compound1118_1.part, mode=Mode.SUBTRACT)

    # Chamfer
    chamfer_edges = [cut712.edges().sort_by_distance(p)[0] for p in [
        (-42.6, 0, 5),
    ]]
    chamfer(chamfer_edges, length=CHAMFER_SIZE)

    # Cut707: cut sbouby_baze009
    add(sbouby_baze009_1.part, mode=Mode.SUBTRACT)

    # Cut709: cut srouby_monoblok_silne003
    add(srouby_monoblok_silne003_1.part, mode=Mode.SUBTRACT)

    # Cut710: cut Compound1122
    add(compound1122.part, mode=Mode.SUBTRACT)

    # Cut712: cut Compound1121
    add(compound1121_1.part, mode=Mode.SUBTRACT)


solid = cut712.part
